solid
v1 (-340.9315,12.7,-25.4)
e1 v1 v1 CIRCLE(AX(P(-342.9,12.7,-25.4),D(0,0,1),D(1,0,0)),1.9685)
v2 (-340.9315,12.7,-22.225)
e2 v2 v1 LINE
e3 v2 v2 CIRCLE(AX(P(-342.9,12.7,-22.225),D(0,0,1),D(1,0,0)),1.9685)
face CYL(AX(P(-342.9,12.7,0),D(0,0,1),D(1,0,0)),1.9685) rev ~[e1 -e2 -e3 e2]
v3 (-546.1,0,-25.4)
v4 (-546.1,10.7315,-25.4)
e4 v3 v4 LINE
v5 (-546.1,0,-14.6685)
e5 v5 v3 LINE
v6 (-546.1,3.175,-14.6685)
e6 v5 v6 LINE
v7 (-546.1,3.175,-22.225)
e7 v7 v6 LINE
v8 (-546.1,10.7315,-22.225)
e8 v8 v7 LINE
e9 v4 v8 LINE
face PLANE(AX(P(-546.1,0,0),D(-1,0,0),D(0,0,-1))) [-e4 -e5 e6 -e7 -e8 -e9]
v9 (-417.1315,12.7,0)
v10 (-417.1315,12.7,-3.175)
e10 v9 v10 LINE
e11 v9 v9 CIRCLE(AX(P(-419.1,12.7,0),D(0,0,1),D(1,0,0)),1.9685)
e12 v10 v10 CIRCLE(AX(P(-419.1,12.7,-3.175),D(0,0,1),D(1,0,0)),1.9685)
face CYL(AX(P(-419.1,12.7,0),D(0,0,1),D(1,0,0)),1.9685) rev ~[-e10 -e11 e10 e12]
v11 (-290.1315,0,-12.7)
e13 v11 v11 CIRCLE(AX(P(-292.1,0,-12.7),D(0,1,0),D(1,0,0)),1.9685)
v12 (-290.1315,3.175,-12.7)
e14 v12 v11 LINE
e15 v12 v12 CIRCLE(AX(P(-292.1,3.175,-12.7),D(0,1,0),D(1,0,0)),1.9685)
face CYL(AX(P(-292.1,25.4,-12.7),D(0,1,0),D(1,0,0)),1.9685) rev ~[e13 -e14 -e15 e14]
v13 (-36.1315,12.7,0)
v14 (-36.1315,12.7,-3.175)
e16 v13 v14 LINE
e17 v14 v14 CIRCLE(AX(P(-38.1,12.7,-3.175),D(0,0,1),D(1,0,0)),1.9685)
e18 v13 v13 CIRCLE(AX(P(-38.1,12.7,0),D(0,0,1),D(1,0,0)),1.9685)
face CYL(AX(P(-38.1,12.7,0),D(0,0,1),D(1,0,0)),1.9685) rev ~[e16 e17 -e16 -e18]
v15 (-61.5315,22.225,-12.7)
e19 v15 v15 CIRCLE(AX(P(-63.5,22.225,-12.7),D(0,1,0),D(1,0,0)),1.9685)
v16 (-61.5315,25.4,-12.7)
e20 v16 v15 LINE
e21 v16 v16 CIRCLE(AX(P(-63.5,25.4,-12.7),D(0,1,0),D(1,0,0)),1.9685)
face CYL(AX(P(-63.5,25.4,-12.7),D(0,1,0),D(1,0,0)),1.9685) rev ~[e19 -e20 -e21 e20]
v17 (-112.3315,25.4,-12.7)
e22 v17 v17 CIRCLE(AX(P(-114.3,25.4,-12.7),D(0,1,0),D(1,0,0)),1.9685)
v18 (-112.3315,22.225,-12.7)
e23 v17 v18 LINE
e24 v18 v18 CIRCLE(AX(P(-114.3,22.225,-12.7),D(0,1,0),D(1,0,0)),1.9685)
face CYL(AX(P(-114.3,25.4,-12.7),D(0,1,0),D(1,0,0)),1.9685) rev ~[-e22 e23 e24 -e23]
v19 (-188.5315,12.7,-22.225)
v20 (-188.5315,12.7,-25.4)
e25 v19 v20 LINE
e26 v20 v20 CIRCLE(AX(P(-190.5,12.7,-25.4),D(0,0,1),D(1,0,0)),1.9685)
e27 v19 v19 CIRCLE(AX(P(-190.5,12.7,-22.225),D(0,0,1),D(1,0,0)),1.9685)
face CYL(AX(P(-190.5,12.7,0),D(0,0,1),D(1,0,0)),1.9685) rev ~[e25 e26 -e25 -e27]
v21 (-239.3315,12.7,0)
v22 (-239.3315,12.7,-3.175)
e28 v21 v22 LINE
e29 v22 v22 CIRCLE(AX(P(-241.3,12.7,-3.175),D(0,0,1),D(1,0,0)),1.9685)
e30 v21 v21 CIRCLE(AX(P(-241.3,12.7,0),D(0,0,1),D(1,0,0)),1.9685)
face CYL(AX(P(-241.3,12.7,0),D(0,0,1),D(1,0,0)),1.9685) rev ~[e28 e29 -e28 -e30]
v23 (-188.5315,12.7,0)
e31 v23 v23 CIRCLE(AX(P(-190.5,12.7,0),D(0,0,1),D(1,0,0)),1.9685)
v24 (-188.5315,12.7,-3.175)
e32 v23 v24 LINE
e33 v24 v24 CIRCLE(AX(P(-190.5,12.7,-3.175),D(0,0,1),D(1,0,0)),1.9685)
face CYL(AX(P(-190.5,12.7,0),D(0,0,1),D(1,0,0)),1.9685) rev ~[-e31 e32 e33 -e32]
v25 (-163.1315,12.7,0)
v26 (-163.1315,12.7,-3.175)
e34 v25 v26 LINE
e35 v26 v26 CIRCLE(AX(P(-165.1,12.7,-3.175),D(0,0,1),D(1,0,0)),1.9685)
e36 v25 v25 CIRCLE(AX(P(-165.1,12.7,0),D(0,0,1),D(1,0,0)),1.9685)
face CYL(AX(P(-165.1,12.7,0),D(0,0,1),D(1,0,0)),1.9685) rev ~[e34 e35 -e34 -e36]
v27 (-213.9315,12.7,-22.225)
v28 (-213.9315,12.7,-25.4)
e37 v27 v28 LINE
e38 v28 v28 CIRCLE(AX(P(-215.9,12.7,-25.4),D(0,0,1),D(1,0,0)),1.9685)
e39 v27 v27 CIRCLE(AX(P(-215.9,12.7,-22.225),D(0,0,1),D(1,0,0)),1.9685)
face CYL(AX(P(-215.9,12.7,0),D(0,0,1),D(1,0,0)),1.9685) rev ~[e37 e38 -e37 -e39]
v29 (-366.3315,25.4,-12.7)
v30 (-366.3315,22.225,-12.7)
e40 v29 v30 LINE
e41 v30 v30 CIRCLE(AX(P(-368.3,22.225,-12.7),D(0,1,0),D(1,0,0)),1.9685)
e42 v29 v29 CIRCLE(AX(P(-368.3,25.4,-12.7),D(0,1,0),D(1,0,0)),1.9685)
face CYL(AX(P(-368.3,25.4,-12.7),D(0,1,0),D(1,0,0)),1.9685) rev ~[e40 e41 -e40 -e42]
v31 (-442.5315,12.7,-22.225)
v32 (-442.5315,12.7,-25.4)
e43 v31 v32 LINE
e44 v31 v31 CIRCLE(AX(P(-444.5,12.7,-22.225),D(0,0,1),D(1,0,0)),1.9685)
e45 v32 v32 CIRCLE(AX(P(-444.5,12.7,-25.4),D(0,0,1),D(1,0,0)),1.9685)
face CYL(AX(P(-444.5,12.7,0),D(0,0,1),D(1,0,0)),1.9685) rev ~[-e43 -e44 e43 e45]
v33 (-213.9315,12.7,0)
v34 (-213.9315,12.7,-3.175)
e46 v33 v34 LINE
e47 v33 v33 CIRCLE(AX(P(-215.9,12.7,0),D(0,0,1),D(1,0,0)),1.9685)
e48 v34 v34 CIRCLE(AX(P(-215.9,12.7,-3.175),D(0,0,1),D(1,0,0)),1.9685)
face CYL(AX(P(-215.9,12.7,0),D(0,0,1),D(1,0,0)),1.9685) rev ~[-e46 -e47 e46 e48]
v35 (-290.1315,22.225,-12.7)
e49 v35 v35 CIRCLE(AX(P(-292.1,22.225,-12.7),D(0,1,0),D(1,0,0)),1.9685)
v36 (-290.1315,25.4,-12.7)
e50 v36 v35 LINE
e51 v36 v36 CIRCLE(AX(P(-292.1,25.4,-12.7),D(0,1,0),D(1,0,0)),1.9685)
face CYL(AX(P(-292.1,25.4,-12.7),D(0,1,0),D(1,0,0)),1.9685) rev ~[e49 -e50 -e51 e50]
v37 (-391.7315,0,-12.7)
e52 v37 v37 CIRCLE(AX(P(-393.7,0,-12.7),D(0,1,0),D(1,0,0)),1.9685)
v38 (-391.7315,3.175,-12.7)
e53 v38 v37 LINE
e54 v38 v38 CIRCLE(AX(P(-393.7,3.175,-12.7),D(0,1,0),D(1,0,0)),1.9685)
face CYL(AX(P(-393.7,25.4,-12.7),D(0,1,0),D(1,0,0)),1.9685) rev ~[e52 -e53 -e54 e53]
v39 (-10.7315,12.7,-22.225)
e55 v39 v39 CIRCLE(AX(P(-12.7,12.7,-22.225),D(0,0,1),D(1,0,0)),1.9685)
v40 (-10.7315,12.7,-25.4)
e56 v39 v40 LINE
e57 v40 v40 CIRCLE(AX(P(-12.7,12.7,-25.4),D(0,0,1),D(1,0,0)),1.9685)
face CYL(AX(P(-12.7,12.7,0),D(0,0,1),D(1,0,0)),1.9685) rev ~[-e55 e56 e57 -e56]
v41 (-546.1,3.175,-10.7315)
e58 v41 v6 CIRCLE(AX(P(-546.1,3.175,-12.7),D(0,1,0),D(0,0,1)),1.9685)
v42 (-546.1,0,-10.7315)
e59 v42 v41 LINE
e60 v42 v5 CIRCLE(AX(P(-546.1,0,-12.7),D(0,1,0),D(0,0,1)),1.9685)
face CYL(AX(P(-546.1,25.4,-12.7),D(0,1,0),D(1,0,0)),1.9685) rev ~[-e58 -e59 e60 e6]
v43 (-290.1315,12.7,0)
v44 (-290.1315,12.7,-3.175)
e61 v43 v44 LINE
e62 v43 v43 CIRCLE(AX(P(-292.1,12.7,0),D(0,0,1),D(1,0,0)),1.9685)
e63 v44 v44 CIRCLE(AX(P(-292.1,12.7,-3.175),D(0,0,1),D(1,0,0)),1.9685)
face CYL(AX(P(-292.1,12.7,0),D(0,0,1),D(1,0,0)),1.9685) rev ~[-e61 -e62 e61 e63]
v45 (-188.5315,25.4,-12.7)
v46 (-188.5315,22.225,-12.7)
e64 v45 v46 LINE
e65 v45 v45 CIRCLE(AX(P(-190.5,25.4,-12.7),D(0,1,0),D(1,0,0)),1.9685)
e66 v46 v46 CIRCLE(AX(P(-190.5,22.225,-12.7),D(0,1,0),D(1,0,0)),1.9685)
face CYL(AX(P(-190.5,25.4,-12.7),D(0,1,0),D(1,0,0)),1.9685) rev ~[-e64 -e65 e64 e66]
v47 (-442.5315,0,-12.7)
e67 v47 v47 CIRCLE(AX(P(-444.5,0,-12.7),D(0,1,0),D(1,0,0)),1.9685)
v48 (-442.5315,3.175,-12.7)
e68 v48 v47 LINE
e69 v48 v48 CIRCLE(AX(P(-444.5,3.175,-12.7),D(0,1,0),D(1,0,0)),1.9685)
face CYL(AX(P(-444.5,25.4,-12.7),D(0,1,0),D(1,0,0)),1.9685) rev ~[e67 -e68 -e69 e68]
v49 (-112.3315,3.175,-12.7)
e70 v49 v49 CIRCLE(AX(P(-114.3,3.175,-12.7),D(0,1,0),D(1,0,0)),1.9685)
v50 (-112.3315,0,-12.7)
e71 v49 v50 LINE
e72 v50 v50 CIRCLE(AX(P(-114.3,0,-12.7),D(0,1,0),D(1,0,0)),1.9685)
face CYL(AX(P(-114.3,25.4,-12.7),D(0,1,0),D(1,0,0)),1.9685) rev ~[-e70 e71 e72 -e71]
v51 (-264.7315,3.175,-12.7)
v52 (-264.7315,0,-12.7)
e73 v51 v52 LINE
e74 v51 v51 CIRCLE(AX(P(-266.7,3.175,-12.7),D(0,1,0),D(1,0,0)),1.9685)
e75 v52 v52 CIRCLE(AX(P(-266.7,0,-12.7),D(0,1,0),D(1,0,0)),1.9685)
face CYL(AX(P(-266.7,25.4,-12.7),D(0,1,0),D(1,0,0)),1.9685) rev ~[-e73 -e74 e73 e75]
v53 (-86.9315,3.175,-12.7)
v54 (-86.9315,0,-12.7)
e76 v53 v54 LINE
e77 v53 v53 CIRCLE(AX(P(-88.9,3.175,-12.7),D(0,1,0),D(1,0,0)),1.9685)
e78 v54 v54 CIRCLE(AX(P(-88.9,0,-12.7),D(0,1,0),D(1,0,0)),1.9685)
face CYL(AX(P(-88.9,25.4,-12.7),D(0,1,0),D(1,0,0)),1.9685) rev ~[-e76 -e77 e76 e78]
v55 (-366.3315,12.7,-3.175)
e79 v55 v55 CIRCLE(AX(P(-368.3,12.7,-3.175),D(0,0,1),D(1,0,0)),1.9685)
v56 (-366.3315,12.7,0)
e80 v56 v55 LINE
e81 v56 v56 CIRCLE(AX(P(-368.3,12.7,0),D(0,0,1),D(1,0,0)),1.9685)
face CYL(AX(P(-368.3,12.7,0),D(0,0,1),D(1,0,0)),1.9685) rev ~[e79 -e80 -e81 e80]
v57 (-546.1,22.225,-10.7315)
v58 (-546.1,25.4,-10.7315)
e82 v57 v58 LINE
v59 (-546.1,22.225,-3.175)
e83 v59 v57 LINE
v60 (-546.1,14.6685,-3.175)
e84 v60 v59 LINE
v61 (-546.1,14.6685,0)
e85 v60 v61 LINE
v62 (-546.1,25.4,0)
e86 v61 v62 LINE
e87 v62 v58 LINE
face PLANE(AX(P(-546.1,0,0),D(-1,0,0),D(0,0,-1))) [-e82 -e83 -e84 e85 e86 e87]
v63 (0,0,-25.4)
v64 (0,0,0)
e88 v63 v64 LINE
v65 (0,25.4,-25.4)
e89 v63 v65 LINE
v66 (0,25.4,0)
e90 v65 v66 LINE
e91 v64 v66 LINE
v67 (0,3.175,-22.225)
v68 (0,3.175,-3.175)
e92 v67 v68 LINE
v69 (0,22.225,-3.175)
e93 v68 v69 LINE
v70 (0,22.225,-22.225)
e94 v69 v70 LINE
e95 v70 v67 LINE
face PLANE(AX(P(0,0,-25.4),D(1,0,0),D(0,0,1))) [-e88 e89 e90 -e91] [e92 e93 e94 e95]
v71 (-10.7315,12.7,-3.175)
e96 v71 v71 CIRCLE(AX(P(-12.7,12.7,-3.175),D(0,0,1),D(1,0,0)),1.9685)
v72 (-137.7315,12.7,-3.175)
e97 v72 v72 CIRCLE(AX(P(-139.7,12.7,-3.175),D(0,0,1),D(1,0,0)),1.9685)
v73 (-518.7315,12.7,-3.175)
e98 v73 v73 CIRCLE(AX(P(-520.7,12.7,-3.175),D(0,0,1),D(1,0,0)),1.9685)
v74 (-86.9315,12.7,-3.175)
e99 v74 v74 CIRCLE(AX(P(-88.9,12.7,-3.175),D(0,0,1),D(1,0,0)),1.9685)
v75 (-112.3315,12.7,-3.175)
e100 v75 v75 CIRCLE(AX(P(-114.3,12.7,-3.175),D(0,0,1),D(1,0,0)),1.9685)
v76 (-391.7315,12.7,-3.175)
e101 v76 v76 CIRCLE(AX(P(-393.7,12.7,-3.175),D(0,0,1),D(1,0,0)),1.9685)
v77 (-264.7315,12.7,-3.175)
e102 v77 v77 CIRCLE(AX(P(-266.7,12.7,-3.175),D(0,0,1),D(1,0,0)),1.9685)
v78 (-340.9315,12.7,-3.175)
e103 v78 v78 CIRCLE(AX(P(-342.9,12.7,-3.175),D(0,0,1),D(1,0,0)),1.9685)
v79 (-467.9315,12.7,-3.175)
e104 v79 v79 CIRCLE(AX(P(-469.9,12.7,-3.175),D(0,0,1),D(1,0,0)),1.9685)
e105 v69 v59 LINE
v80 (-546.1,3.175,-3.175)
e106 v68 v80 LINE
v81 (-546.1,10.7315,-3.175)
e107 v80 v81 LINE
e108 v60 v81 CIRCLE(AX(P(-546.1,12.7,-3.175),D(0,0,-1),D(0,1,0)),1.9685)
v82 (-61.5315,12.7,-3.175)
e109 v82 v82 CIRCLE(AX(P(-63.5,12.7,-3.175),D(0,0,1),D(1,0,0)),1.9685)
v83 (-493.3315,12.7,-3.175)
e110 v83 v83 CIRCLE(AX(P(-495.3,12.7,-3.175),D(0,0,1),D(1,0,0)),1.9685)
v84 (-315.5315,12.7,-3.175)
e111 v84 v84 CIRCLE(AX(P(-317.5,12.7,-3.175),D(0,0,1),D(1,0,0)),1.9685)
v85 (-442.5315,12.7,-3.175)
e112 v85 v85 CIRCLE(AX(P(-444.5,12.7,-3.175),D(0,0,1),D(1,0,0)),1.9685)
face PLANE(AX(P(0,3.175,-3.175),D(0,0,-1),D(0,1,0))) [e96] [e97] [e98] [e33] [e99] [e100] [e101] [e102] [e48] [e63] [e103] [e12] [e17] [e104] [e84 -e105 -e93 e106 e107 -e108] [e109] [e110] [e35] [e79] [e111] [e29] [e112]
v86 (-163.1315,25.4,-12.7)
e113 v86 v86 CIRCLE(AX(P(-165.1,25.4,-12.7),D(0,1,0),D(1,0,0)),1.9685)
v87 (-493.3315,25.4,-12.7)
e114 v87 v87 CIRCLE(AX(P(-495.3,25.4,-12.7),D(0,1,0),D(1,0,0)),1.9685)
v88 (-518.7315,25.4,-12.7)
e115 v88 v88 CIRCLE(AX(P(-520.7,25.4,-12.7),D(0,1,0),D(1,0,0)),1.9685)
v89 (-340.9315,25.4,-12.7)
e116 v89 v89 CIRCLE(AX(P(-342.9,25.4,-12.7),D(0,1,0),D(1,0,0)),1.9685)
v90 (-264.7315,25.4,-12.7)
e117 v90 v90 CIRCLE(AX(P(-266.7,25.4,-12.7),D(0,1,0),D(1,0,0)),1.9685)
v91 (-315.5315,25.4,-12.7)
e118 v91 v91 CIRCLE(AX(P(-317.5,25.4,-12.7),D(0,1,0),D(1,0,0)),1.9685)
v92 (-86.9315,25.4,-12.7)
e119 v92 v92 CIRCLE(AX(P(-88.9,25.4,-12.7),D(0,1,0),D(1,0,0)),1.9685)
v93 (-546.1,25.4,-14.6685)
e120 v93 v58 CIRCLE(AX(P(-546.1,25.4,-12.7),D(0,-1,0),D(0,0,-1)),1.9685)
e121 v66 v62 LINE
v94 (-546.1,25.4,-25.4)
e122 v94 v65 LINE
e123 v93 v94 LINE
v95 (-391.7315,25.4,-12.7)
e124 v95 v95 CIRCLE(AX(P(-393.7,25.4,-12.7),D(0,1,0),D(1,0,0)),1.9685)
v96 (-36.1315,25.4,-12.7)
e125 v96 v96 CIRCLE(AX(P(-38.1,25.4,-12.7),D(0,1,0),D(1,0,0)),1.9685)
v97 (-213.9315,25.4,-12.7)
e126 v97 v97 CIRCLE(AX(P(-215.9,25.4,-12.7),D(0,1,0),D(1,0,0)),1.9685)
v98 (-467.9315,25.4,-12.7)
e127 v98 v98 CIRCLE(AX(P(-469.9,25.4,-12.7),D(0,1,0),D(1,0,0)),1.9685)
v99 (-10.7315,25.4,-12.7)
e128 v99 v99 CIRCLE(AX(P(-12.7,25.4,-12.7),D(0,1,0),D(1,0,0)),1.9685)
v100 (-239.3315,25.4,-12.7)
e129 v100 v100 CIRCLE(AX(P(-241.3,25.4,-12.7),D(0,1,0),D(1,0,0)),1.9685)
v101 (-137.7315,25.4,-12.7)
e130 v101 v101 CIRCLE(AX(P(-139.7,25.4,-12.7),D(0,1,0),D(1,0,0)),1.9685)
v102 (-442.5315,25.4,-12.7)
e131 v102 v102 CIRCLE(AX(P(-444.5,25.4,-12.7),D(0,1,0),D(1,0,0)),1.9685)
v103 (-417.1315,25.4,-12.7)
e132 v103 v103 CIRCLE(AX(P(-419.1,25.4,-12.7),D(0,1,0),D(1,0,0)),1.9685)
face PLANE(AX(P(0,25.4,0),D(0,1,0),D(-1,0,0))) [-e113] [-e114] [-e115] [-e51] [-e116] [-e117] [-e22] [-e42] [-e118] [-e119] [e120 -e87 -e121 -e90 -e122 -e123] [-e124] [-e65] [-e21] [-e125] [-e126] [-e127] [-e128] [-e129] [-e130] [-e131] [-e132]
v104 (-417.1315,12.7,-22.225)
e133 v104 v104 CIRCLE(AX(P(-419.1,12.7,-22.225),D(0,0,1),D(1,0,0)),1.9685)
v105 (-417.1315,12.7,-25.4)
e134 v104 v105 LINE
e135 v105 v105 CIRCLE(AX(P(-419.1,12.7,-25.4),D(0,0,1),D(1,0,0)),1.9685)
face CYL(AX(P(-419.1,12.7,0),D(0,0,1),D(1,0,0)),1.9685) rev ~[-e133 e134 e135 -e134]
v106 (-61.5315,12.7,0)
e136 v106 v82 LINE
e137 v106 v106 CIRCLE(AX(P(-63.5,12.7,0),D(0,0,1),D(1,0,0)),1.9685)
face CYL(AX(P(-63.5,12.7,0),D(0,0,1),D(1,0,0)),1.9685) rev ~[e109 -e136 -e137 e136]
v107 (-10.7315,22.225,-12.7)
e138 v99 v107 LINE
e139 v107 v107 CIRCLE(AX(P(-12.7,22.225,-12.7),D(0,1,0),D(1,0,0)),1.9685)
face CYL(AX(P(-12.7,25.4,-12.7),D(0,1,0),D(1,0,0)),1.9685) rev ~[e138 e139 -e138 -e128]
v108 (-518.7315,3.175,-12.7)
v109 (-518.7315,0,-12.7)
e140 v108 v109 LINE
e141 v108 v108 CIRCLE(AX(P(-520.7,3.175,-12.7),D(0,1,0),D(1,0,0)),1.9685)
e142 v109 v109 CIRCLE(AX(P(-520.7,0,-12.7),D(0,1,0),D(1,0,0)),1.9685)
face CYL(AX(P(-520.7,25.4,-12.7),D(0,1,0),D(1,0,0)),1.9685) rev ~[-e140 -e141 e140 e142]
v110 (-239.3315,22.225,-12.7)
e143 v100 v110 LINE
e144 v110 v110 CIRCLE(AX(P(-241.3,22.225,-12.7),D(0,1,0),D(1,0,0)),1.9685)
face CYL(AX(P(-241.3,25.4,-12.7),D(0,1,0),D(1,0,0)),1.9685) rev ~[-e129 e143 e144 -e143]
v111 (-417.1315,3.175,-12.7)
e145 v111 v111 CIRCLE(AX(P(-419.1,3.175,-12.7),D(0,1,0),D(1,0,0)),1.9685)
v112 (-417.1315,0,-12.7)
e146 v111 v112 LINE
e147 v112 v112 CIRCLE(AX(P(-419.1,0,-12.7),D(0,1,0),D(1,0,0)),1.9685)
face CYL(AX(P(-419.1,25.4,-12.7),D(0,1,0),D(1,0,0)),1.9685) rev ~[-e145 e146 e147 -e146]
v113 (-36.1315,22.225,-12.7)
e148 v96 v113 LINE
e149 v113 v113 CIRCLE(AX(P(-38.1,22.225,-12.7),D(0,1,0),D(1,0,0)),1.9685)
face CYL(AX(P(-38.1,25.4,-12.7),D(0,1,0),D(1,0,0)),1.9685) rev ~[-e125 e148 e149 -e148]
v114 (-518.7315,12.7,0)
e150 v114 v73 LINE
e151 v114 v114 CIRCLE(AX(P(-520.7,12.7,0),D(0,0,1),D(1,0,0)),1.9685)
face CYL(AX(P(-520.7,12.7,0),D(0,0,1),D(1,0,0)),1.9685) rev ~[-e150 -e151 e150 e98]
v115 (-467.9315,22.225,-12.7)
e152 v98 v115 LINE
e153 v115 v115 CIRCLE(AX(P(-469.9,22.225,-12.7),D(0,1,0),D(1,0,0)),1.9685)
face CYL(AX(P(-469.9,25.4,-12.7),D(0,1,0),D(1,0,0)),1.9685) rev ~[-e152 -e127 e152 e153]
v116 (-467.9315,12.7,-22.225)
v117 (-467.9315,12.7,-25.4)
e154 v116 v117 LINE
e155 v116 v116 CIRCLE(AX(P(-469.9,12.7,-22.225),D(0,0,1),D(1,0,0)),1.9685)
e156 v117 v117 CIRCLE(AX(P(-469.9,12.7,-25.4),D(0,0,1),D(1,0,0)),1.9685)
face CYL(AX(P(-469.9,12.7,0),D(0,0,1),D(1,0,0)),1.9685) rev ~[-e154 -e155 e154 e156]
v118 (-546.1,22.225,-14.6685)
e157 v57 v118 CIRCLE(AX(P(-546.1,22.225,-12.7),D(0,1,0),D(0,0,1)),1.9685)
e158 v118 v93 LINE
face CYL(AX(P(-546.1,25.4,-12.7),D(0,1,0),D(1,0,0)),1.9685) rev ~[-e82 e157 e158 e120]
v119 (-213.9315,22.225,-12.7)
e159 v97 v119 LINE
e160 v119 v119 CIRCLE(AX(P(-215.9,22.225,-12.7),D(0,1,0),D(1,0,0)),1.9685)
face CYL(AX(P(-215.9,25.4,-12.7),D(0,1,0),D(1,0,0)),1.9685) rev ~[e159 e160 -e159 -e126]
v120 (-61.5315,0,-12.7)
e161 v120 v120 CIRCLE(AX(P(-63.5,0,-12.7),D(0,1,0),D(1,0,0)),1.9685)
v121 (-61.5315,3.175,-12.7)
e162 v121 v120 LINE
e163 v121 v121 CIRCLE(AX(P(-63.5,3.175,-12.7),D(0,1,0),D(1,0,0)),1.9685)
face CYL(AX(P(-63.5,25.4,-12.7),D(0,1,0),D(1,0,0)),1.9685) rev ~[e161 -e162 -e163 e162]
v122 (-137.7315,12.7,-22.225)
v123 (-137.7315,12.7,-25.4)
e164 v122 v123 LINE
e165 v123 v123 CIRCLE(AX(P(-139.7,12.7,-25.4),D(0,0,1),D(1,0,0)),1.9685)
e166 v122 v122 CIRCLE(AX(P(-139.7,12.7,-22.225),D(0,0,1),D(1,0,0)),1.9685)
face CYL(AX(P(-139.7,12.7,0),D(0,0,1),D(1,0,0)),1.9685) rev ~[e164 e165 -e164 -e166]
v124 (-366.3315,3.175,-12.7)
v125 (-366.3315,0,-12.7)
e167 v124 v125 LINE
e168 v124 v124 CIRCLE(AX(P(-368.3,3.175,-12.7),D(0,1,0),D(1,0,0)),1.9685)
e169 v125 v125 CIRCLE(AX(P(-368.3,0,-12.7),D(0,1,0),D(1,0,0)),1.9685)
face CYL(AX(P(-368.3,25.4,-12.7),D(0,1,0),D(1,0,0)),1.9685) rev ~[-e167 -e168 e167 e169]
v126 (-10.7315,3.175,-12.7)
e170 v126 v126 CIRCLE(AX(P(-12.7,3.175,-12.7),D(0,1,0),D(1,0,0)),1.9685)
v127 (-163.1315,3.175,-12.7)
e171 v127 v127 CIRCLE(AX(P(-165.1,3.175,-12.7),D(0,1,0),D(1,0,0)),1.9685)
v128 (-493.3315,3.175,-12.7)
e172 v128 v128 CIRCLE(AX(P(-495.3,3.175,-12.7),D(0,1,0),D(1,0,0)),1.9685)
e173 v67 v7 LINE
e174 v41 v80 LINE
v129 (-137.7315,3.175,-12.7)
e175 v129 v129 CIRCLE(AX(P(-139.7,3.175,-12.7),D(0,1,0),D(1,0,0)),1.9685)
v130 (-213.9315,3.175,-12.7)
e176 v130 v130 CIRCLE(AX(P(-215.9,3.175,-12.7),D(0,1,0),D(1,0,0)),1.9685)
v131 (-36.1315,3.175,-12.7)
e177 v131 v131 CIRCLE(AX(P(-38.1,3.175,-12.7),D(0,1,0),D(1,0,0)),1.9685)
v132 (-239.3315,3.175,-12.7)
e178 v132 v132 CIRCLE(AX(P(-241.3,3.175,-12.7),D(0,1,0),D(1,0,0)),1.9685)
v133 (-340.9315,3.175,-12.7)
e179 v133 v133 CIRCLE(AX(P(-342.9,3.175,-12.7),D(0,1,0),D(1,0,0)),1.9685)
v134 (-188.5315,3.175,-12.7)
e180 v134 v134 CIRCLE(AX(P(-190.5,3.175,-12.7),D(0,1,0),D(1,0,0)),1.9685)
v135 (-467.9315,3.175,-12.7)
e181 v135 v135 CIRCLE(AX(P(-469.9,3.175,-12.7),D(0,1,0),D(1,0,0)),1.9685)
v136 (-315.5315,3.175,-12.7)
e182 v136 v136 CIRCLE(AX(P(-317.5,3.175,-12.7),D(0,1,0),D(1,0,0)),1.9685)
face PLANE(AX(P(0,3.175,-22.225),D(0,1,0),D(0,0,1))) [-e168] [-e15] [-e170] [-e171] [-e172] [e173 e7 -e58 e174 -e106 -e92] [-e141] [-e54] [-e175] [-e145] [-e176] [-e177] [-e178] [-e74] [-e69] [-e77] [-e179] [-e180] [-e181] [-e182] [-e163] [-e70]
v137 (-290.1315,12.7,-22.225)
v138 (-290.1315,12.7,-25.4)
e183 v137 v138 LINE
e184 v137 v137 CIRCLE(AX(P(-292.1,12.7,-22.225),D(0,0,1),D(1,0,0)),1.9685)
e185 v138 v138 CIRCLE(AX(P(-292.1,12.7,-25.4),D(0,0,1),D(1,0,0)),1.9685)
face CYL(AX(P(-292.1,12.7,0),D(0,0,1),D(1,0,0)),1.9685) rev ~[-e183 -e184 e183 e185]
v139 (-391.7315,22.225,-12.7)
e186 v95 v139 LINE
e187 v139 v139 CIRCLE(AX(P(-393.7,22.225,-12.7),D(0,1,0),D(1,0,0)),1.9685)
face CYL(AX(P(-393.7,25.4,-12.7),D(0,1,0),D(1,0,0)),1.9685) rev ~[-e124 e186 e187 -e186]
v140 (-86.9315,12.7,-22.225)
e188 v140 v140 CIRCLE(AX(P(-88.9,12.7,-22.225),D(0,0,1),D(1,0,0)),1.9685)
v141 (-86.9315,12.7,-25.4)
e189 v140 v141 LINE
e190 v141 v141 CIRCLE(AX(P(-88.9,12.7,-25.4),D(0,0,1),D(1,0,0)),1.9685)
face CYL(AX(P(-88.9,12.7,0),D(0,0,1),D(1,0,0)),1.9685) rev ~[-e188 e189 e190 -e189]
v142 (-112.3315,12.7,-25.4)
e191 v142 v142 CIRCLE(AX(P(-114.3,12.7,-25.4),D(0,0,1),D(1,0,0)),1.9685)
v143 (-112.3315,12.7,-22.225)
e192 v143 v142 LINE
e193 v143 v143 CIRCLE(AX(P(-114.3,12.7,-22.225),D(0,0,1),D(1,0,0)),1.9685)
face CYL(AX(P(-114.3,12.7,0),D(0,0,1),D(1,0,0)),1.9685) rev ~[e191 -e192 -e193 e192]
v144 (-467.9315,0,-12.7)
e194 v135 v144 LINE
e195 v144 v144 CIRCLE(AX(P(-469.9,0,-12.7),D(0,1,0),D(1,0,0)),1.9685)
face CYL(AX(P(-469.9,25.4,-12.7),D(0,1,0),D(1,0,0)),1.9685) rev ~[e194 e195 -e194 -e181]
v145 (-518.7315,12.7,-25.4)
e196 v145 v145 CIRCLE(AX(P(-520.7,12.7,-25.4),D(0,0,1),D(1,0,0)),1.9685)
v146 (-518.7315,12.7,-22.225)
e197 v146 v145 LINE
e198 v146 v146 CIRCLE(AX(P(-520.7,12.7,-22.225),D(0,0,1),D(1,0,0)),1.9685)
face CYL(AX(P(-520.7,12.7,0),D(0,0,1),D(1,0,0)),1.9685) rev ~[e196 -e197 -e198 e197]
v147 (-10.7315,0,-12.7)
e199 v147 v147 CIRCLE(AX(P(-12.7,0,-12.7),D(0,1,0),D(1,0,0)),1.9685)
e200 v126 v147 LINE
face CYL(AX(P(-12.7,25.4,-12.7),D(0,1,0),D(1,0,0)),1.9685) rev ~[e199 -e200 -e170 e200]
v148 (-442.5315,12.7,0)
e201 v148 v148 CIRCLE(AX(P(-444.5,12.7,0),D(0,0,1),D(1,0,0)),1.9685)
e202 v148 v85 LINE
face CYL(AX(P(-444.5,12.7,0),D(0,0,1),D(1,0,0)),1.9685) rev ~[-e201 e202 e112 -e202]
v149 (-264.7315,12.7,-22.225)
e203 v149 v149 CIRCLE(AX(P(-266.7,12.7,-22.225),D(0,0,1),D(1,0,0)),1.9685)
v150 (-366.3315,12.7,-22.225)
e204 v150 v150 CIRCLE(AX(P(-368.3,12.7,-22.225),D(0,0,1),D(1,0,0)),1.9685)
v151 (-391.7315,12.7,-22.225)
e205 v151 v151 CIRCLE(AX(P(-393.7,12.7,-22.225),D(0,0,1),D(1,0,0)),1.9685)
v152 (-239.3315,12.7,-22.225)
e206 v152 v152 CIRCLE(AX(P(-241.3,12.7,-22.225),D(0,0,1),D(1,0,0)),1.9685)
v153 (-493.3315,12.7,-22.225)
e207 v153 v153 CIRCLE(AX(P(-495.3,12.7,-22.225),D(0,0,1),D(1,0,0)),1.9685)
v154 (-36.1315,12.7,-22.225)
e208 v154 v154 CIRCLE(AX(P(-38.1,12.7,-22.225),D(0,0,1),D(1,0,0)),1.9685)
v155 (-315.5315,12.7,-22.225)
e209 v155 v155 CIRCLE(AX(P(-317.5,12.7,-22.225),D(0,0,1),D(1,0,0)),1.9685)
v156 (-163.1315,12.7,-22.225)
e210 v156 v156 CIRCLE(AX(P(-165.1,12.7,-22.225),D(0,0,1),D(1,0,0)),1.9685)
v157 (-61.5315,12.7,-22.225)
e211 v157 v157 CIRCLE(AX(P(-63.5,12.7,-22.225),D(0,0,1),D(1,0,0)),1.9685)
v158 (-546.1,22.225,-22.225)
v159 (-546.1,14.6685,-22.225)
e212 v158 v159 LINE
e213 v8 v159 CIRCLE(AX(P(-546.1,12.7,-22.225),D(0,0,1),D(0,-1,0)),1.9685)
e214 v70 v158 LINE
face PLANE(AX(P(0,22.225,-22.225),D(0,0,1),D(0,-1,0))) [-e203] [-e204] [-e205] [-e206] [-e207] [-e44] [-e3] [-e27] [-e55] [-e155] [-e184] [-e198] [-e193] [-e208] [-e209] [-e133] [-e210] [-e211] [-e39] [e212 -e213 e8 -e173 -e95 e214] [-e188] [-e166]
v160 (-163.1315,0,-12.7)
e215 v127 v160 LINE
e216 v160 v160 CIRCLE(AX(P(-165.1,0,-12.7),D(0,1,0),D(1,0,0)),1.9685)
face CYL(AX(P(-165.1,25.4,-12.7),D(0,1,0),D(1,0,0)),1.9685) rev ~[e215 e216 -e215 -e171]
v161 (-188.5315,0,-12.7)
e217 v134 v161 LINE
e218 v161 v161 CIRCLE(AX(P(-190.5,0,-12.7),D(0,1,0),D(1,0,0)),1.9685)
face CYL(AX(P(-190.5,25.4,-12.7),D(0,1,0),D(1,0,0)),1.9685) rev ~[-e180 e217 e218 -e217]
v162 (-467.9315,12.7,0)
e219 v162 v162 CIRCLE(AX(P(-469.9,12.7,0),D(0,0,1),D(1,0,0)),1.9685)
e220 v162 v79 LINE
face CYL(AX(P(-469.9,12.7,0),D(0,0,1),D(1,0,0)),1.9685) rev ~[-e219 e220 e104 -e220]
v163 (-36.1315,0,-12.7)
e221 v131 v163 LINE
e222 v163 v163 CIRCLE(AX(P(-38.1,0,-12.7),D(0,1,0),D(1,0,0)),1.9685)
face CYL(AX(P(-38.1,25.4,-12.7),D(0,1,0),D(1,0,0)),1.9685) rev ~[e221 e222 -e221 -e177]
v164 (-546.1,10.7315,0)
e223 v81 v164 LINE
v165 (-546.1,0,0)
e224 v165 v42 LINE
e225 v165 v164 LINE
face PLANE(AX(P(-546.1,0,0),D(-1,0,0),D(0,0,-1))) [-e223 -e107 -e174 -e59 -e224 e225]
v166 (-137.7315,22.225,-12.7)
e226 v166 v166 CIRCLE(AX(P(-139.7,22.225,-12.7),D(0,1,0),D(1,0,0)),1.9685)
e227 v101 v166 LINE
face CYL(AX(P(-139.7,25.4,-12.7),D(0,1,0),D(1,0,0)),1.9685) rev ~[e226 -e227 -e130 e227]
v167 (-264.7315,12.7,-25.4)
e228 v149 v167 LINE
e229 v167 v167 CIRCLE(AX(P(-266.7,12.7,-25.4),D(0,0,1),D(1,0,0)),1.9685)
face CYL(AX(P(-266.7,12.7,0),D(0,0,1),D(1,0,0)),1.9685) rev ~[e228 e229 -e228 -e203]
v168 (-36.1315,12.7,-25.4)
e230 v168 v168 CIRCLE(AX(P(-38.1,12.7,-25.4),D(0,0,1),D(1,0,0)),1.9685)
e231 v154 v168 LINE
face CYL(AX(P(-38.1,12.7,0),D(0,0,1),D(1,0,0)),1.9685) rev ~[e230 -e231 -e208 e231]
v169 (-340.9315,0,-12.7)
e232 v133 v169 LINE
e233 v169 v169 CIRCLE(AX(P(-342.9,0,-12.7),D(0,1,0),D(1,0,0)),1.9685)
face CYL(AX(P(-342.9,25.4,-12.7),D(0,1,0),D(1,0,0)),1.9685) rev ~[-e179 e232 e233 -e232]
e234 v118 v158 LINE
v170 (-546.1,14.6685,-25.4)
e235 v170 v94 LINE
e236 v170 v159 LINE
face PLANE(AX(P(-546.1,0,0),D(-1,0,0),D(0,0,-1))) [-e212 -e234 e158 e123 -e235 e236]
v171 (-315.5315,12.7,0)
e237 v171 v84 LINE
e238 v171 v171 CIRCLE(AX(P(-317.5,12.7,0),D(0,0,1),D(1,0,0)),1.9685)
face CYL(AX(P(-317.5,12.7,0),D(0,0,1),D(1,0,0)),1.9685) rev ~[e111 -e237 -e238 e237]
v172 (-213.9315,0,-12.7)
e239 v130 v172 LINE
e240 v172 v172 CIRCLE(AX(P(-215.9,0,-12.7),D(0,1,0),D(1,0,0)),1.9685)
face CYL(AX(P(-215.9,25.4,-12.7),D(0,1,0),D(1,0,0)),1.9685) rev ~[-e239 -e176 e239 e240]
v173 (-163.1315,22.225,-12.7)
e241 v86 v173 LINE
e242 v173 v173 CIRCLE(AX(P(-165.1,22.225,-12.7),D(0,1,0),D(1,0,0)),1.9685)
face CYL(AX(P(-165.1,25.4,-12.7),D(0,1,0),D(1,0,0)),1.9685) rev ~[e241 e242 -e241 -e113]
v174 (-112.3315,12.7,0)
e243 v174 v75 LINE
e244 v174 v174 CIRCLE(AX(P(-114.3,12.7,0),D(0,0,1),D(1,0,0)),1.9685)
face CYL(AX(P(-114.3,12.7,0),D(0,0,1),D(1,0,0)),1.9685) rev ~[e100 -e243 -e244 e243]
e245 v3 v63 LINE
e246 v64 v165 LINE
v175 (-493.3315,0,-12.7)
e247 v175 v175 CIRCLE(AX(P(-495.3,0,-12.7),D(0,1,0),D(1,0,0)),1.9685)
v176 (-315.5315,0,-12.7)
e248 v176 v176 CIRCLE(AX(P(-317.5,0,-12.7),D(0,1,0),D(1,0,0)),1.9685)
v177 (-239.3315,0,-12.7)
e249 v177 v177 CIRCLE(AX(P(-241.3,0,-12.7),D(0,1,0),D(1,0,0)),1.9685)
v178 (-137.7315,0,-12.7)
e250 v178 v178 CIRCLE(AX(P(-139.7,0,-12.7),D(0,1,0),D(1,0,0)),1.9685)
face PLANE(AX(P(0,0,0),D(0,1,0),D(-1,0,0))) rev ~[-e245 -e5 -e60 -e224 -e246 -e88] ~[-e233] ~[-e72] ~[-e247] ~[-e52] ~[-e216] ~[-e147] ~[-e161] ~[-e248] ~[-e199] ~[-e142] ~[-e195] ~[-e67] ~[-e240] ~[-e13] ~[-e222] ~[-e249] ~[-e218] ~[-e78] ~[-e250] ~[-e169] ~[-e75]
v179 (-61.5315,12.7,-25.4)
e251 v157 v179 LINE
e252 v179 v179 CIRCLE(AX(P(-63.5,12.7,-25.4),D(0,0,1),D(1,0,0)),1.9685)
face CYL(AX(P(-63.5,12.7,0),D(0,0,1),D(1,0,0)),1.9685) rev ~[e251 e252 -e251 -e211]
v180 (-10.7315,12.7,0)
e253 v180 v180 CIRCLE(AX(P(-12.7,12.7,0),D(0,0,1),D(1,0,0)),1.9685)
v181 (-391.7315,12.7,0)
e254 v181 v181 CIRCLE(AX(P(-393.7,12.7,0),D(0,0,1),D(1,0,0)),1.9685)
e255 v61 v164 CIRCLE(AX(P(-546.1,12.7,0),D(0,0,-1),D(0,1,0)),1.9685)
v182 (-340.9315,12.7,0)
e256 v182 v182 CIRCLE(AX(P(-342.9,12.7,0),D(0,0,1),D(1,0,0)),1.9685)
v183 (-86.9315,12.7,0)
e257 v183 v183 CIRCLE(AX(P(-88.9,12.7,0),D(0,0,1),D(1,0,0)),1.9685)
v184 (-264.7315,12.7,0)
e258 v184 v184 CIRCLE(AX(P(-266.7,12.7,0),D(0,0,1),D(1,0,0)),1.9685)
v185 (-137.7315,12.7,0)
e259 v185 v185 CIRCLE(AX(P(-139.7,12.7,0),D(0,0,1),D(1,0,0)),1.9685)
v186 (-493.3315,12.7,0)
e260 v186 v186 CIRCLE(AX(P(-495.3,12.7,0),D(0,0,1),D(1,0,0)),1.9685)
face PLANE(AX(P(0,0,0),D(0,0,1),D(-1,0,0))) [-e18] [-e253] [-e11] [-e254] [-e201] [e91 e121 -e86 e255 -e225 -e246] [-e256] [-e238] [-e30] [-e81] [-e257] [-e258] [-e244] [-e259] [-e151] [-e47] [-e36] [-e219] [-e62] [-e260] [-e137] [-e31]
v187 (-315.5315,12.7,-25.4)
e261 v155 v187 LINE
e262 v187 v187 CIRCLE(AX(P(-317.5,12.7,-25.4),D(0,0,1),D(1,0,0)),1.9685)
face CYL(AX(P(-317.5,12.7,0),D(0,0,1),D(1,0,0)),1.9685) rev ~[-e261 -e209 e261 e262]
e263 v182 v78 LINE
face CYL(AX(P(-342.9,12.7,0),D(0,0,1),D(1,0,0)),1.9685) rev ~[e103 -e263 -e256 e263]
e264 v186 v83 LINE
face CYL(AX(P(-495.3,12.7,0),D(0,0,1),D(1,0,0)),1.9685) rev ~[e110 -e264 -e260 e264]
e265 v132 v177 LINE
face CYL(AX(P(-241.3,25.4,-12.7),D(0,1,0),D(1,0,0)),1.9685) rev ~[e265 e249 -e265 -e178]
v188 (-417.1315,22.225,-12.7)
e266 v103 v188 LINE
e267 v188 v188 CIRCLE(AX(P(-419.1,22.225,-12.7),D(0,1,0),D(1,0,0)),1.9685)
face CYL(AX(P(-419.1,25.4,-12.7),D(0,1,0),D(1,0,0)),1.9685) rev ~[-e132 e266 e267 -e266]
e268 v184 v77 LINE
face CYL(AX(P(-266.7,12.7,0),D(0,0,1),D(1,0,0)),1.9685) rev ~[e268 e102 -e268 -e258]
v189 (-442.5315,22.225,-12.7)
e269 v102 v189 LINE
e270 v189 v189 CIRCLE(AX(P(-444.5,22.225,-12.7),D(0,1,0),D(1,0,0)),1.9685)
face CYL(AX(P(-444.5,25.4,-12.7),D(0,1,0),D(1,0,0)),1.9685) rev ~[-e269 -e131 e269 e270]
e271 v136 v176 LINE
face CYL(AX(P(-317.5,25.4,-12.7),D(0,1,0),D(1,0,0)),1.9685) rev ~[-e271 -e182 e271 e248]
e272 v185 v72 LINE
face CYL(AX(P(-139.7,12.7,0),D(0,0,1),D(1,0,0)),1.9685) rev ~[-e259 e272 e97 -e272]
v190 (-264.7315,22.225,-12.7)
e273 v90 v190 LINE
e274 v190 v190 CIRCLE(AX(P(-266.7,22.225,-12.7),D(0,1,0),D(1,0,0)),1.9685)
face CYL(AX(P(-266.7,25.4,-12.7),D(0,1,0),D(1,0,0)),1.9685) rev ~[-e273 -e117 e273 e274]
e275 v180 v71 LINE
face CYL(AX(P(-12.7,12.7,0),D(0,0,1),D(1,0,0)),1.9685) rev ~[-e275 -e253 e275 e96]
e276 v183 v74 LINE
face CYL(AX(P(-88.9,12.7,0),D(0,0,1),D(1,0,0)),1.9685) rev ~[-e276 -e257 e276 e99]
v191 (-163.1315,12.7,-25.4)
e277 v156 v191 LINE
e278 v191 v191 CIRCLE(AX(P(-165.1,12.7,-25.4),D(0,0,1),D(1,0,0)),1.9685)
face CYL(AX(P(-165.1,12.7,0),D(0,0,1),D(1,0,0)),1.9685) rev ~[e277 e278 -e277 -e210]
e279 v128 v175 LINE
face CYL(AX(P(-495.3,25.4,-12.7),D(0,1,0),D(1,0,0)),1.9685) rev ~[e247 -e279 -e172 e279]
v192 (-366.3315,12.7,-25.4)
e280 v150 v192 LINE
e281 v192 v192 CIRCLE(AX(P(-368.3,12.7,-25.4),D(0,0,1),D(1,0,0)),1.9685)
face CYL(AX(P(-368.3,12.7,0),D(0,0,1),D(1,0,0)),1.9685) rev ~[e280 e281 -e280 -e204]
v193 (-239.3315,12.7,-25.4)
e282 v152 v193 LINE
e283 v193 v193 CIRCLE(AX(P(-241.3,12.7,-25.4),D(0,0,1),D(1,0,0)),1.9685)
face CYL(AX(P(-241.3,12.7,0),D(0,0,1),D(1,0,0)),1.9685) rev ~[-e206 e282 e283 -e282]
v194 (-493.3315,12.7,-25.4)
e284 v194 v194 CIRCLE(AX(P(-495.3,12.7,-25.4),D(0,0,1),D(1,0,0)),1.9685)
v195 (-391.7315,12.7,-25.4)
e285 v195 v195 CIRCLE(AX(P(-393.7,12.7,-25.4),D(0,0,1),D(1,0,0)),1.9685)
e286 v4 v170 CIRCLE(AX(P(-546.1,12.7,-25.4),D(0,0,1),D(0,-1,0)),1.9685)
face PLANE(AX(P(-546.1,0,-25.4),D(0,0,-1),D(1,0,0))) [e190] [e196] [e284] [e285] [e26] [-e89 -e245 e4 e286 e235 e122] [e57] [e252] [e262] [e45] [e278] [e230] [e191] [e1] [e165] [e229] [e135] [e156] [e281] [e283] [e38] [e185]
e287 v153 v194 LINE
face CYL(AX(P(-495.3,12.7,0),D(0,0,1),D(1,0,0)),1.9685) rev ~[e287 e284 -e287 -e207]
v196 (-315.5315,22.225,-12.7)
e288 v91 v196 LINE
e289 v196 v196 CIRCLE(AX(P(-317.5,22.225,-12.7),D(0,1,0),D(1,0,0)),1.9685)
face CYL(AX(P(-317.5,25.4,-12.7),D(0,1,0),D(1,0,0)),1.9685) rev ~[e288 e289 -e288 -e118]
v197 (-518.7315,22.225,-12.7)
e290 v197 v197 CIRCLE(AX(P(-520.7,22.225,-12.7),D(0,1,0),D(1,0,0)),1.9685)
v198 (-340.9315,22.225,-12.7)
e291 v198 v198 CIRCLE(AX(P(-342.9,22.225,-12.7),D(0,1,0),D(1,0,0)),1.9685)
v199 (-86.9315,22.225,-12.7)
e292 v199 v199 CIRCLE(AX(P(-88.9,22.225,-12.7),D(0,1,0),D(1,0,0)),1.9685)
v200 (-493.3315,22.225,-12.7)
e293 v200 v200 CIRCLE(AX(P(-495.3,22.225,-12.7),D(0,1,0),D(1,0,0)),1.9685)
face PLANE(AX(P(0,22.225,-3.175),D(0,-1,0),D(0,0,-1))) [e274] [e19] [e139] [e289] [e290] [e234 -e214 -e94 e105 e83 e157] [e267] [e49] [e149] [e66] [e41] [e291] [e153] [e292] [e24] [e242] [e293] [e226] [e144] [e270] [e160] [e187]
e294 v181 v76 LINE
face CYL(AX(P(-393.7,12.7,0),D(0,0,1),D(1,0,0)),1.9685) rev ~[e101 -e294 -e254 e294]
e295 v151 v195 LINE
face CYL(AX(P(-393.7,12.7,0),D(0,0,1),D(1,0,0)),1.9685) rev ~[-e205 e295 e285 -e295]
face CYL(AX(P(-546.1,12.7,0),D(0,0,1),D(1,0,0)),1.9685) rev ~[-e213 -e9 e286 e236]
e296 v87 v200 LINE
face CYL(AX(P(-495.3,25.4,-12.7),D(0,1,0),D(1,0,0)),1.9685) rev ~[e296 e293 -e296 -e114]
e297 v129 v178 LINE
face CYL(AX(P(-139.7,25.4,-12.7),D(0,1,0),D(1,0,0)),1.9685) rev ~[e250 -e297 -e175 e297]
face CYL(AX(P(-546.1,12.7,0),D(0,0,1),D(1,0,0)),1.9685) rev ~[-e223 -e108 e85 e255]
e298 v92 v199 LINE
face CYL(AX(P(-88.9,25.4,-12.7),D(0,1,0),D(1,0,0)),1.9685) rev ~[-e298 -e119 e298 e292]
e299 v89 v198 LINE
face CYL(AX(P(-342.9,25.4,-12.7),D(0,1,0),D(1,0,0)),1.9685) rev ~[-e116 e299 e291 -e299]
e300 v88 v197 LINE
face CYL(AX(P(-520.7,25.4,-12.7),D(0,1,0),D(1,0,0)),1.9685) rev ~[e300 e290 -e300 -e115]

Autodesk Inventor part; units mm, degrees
ref_plane "YZ Plane" through (0, 0, 0) normal (1, 0, 0) x (0, 1, 0)
ref_plane "XZ Plane" through (0, 0, 0) normal (0, 1, 0) x (-1, 0, 0)
ref_plane "XY Plane" through (0, 0, 0) normal (0, 0, 1) x (1, 0, 0)
sketch "Sketch1" plane through (0, 0, 0) normal (0, 1, 0) x (-1, 0, 0)
  line L0 (0, 0) -> (546.1, 0)
  line L1 (546.1, 0) -> (546.1, -25.4)
  line L2 (546.1, -25.4) -> (0, -25.4)
  line L3 (0, -25.4) -> (0, 0)
  dimension "d0" = 546.1
  dimension "d1" = 25.4
extrude "Extrusion1" add sketch "Sketch1" along normal blind 25.4
sketch "Sketch2" plane through (0, 0, 0) normal (1, 0, 0) x (0, 0, -1)
  line L0 (3.175, 22.225) -> (22.225, 22.225)
  line L1 (22.225, 22.225) -> (22.225, 3.175)
  line L2 (22.225, 3.175) -> (3.175, 3.175)
  line L3 (3.175, 3.175) -> (3.175, 22.225)
  line L4 (0, 25.4) -> (25.4, 25.4) projected
  line L5 (25.4, 0) -> (25.4, 25.4) projected
  line L6 (25.4, 0) -> (0, 0) projected
  line L7 (0, 0) -> (0, 25.4) projected
  dimension "d4" = 3.175
  dimension "d5" = 3.175
  dimension "d6" = 3.175
  dimension "d7" = 3.175
extrude "Extrusion2" cut sketch "Sketch2" against normal blind 546.1 contours L0 L1 L2 L3
sketch "Sketch3" plane through (-546.1, 0, 0) normal (0, 0, 1) x (1, 0, 0)
  circle A0 centre (533.4, 12.7) radius 1.9685
  line L0 (0, 25.4) -> (546.1, 25.4) projected
  line L1 (546.1, 0) -> (546.1, 25.4) projected
  circle A1 centre (508, 12.7) radius 1.9685
  circle A2 centre (482.6, 12.7) radius 1.9685
  circle A3 centre (457.2, 12.7) radius 1.9685
  circle A4 centre (431.8, 12.7) radius 1.9685
  circle A5 centre (406.4, 12.7) radius 1.9685
  circle A6 centre (381, 12.7) radius 1.9685
  circle A7 centre (355.6, 12.7) radius 1.9685
  circle A8 centre (330.2, 12.7) radius 1.9685
  circle A9 centre (304.8, 12.7) radius 1.9685
  circle A10 centre (279.4, 12.7) radius 1.9685
  circle A11 centre (254, 12.7) radius 1.9685
  circle A12 centre (228.6, 12.7) radius 1.9685
  circle A13 centre (203.2, 12.7) radius 1.9685
  circle A14 centre (177.8, 12.7) radius 1.9685
  circle A15 centre (152.4, 12.7) radius 1.9685
  circle A16 centre (127, 12.7) radius 1.9685
  circle A17 centre (101.6, 12.7) radius 1.9685
  circle A18 centre (76.2, 12.7) radius 1.9685
  circle A19 centre (50.8, 12.7) radius 1.9685
  circle A20 centre (25.4, 12.7) radius 1.9685
  circle A21 centre (0, 12.7) radius 1.9685
  dimension "d10" = 3.937
  dimension "d11" = 12.7
  dimension "d12" = 12.7
  dimension "d22" = 25.4
extrude "Extrusion3" cut sketch "Sketch3" against normal blind 25.4
sketch "Sketch4" plane through (0, 25.4, 0) normal (0, 1, 0) x (1, 0, 0)
  circle A0 centre (-12.7, 12.7) radius 1.9685
  line L0 (0, 25.4) -> (-546.1, 25.4) projected
  line L1 (0, 0) -> (0, 25.4) projected
  circle A1 centre (-38.1, 12.7) radius 1.9685
  circle A2 centre (-63.5, 12.7) radius 1.9685
  circle A3 centre (-88.9, 12.7) radius 1.9685
  circle A4 centre (-114.3, 12.7) radius 1.9685
  circle A5 centre (-139.7, 12.7) radius 1.9685
  circle A6 centre (-165.1, 12.7) radius 1.9685
  circle A7 centre (-190.5, 12.7) radius 1.9685
  circle A8 centre (-215.9, 12.7) radius 1.9685
  circle A9 centre (-241.3, 12.7) radius 1.9685
  circle A10 centre (-266.7, 12.7) radius 1.9685
  circle A11 centre (-292.1, 12.7) radius 1.9685
  circle A12 centre (-317.5, 12.7) radius 1.9685
  circle A13 centre (-342.9, 12.7) radius 1.9685
  circle A14 centre (-368.3, 12.7) radius 1.9685
  circle A15 centre (-393.7, 12.7) radius 1.9685
  circle A16 centre (-419.1, 12.7) radius 1.9685
  circle A17 centre (-444.5, 12.7) radius 1.9685
  circle A18 centre (-469.9, 12.7) radius 1.9685
  circle A19 centre (-495.3, 12.7) radius 1.9685
  circle A20 centre (-520.7, 12.7) radius 1.9685
  circle A21 centre (-546.1, 12.7) radius 1.9685
  dimension "d29" = 3.937
  dimension "d30" = 12.7
  dimension "d31" = 12.7
  dimension "d34" = 25.4
extrude "Extrusion4" cut sketch "Sketch4" against normal blind 25.4
properties part number "kermit frame 6"
